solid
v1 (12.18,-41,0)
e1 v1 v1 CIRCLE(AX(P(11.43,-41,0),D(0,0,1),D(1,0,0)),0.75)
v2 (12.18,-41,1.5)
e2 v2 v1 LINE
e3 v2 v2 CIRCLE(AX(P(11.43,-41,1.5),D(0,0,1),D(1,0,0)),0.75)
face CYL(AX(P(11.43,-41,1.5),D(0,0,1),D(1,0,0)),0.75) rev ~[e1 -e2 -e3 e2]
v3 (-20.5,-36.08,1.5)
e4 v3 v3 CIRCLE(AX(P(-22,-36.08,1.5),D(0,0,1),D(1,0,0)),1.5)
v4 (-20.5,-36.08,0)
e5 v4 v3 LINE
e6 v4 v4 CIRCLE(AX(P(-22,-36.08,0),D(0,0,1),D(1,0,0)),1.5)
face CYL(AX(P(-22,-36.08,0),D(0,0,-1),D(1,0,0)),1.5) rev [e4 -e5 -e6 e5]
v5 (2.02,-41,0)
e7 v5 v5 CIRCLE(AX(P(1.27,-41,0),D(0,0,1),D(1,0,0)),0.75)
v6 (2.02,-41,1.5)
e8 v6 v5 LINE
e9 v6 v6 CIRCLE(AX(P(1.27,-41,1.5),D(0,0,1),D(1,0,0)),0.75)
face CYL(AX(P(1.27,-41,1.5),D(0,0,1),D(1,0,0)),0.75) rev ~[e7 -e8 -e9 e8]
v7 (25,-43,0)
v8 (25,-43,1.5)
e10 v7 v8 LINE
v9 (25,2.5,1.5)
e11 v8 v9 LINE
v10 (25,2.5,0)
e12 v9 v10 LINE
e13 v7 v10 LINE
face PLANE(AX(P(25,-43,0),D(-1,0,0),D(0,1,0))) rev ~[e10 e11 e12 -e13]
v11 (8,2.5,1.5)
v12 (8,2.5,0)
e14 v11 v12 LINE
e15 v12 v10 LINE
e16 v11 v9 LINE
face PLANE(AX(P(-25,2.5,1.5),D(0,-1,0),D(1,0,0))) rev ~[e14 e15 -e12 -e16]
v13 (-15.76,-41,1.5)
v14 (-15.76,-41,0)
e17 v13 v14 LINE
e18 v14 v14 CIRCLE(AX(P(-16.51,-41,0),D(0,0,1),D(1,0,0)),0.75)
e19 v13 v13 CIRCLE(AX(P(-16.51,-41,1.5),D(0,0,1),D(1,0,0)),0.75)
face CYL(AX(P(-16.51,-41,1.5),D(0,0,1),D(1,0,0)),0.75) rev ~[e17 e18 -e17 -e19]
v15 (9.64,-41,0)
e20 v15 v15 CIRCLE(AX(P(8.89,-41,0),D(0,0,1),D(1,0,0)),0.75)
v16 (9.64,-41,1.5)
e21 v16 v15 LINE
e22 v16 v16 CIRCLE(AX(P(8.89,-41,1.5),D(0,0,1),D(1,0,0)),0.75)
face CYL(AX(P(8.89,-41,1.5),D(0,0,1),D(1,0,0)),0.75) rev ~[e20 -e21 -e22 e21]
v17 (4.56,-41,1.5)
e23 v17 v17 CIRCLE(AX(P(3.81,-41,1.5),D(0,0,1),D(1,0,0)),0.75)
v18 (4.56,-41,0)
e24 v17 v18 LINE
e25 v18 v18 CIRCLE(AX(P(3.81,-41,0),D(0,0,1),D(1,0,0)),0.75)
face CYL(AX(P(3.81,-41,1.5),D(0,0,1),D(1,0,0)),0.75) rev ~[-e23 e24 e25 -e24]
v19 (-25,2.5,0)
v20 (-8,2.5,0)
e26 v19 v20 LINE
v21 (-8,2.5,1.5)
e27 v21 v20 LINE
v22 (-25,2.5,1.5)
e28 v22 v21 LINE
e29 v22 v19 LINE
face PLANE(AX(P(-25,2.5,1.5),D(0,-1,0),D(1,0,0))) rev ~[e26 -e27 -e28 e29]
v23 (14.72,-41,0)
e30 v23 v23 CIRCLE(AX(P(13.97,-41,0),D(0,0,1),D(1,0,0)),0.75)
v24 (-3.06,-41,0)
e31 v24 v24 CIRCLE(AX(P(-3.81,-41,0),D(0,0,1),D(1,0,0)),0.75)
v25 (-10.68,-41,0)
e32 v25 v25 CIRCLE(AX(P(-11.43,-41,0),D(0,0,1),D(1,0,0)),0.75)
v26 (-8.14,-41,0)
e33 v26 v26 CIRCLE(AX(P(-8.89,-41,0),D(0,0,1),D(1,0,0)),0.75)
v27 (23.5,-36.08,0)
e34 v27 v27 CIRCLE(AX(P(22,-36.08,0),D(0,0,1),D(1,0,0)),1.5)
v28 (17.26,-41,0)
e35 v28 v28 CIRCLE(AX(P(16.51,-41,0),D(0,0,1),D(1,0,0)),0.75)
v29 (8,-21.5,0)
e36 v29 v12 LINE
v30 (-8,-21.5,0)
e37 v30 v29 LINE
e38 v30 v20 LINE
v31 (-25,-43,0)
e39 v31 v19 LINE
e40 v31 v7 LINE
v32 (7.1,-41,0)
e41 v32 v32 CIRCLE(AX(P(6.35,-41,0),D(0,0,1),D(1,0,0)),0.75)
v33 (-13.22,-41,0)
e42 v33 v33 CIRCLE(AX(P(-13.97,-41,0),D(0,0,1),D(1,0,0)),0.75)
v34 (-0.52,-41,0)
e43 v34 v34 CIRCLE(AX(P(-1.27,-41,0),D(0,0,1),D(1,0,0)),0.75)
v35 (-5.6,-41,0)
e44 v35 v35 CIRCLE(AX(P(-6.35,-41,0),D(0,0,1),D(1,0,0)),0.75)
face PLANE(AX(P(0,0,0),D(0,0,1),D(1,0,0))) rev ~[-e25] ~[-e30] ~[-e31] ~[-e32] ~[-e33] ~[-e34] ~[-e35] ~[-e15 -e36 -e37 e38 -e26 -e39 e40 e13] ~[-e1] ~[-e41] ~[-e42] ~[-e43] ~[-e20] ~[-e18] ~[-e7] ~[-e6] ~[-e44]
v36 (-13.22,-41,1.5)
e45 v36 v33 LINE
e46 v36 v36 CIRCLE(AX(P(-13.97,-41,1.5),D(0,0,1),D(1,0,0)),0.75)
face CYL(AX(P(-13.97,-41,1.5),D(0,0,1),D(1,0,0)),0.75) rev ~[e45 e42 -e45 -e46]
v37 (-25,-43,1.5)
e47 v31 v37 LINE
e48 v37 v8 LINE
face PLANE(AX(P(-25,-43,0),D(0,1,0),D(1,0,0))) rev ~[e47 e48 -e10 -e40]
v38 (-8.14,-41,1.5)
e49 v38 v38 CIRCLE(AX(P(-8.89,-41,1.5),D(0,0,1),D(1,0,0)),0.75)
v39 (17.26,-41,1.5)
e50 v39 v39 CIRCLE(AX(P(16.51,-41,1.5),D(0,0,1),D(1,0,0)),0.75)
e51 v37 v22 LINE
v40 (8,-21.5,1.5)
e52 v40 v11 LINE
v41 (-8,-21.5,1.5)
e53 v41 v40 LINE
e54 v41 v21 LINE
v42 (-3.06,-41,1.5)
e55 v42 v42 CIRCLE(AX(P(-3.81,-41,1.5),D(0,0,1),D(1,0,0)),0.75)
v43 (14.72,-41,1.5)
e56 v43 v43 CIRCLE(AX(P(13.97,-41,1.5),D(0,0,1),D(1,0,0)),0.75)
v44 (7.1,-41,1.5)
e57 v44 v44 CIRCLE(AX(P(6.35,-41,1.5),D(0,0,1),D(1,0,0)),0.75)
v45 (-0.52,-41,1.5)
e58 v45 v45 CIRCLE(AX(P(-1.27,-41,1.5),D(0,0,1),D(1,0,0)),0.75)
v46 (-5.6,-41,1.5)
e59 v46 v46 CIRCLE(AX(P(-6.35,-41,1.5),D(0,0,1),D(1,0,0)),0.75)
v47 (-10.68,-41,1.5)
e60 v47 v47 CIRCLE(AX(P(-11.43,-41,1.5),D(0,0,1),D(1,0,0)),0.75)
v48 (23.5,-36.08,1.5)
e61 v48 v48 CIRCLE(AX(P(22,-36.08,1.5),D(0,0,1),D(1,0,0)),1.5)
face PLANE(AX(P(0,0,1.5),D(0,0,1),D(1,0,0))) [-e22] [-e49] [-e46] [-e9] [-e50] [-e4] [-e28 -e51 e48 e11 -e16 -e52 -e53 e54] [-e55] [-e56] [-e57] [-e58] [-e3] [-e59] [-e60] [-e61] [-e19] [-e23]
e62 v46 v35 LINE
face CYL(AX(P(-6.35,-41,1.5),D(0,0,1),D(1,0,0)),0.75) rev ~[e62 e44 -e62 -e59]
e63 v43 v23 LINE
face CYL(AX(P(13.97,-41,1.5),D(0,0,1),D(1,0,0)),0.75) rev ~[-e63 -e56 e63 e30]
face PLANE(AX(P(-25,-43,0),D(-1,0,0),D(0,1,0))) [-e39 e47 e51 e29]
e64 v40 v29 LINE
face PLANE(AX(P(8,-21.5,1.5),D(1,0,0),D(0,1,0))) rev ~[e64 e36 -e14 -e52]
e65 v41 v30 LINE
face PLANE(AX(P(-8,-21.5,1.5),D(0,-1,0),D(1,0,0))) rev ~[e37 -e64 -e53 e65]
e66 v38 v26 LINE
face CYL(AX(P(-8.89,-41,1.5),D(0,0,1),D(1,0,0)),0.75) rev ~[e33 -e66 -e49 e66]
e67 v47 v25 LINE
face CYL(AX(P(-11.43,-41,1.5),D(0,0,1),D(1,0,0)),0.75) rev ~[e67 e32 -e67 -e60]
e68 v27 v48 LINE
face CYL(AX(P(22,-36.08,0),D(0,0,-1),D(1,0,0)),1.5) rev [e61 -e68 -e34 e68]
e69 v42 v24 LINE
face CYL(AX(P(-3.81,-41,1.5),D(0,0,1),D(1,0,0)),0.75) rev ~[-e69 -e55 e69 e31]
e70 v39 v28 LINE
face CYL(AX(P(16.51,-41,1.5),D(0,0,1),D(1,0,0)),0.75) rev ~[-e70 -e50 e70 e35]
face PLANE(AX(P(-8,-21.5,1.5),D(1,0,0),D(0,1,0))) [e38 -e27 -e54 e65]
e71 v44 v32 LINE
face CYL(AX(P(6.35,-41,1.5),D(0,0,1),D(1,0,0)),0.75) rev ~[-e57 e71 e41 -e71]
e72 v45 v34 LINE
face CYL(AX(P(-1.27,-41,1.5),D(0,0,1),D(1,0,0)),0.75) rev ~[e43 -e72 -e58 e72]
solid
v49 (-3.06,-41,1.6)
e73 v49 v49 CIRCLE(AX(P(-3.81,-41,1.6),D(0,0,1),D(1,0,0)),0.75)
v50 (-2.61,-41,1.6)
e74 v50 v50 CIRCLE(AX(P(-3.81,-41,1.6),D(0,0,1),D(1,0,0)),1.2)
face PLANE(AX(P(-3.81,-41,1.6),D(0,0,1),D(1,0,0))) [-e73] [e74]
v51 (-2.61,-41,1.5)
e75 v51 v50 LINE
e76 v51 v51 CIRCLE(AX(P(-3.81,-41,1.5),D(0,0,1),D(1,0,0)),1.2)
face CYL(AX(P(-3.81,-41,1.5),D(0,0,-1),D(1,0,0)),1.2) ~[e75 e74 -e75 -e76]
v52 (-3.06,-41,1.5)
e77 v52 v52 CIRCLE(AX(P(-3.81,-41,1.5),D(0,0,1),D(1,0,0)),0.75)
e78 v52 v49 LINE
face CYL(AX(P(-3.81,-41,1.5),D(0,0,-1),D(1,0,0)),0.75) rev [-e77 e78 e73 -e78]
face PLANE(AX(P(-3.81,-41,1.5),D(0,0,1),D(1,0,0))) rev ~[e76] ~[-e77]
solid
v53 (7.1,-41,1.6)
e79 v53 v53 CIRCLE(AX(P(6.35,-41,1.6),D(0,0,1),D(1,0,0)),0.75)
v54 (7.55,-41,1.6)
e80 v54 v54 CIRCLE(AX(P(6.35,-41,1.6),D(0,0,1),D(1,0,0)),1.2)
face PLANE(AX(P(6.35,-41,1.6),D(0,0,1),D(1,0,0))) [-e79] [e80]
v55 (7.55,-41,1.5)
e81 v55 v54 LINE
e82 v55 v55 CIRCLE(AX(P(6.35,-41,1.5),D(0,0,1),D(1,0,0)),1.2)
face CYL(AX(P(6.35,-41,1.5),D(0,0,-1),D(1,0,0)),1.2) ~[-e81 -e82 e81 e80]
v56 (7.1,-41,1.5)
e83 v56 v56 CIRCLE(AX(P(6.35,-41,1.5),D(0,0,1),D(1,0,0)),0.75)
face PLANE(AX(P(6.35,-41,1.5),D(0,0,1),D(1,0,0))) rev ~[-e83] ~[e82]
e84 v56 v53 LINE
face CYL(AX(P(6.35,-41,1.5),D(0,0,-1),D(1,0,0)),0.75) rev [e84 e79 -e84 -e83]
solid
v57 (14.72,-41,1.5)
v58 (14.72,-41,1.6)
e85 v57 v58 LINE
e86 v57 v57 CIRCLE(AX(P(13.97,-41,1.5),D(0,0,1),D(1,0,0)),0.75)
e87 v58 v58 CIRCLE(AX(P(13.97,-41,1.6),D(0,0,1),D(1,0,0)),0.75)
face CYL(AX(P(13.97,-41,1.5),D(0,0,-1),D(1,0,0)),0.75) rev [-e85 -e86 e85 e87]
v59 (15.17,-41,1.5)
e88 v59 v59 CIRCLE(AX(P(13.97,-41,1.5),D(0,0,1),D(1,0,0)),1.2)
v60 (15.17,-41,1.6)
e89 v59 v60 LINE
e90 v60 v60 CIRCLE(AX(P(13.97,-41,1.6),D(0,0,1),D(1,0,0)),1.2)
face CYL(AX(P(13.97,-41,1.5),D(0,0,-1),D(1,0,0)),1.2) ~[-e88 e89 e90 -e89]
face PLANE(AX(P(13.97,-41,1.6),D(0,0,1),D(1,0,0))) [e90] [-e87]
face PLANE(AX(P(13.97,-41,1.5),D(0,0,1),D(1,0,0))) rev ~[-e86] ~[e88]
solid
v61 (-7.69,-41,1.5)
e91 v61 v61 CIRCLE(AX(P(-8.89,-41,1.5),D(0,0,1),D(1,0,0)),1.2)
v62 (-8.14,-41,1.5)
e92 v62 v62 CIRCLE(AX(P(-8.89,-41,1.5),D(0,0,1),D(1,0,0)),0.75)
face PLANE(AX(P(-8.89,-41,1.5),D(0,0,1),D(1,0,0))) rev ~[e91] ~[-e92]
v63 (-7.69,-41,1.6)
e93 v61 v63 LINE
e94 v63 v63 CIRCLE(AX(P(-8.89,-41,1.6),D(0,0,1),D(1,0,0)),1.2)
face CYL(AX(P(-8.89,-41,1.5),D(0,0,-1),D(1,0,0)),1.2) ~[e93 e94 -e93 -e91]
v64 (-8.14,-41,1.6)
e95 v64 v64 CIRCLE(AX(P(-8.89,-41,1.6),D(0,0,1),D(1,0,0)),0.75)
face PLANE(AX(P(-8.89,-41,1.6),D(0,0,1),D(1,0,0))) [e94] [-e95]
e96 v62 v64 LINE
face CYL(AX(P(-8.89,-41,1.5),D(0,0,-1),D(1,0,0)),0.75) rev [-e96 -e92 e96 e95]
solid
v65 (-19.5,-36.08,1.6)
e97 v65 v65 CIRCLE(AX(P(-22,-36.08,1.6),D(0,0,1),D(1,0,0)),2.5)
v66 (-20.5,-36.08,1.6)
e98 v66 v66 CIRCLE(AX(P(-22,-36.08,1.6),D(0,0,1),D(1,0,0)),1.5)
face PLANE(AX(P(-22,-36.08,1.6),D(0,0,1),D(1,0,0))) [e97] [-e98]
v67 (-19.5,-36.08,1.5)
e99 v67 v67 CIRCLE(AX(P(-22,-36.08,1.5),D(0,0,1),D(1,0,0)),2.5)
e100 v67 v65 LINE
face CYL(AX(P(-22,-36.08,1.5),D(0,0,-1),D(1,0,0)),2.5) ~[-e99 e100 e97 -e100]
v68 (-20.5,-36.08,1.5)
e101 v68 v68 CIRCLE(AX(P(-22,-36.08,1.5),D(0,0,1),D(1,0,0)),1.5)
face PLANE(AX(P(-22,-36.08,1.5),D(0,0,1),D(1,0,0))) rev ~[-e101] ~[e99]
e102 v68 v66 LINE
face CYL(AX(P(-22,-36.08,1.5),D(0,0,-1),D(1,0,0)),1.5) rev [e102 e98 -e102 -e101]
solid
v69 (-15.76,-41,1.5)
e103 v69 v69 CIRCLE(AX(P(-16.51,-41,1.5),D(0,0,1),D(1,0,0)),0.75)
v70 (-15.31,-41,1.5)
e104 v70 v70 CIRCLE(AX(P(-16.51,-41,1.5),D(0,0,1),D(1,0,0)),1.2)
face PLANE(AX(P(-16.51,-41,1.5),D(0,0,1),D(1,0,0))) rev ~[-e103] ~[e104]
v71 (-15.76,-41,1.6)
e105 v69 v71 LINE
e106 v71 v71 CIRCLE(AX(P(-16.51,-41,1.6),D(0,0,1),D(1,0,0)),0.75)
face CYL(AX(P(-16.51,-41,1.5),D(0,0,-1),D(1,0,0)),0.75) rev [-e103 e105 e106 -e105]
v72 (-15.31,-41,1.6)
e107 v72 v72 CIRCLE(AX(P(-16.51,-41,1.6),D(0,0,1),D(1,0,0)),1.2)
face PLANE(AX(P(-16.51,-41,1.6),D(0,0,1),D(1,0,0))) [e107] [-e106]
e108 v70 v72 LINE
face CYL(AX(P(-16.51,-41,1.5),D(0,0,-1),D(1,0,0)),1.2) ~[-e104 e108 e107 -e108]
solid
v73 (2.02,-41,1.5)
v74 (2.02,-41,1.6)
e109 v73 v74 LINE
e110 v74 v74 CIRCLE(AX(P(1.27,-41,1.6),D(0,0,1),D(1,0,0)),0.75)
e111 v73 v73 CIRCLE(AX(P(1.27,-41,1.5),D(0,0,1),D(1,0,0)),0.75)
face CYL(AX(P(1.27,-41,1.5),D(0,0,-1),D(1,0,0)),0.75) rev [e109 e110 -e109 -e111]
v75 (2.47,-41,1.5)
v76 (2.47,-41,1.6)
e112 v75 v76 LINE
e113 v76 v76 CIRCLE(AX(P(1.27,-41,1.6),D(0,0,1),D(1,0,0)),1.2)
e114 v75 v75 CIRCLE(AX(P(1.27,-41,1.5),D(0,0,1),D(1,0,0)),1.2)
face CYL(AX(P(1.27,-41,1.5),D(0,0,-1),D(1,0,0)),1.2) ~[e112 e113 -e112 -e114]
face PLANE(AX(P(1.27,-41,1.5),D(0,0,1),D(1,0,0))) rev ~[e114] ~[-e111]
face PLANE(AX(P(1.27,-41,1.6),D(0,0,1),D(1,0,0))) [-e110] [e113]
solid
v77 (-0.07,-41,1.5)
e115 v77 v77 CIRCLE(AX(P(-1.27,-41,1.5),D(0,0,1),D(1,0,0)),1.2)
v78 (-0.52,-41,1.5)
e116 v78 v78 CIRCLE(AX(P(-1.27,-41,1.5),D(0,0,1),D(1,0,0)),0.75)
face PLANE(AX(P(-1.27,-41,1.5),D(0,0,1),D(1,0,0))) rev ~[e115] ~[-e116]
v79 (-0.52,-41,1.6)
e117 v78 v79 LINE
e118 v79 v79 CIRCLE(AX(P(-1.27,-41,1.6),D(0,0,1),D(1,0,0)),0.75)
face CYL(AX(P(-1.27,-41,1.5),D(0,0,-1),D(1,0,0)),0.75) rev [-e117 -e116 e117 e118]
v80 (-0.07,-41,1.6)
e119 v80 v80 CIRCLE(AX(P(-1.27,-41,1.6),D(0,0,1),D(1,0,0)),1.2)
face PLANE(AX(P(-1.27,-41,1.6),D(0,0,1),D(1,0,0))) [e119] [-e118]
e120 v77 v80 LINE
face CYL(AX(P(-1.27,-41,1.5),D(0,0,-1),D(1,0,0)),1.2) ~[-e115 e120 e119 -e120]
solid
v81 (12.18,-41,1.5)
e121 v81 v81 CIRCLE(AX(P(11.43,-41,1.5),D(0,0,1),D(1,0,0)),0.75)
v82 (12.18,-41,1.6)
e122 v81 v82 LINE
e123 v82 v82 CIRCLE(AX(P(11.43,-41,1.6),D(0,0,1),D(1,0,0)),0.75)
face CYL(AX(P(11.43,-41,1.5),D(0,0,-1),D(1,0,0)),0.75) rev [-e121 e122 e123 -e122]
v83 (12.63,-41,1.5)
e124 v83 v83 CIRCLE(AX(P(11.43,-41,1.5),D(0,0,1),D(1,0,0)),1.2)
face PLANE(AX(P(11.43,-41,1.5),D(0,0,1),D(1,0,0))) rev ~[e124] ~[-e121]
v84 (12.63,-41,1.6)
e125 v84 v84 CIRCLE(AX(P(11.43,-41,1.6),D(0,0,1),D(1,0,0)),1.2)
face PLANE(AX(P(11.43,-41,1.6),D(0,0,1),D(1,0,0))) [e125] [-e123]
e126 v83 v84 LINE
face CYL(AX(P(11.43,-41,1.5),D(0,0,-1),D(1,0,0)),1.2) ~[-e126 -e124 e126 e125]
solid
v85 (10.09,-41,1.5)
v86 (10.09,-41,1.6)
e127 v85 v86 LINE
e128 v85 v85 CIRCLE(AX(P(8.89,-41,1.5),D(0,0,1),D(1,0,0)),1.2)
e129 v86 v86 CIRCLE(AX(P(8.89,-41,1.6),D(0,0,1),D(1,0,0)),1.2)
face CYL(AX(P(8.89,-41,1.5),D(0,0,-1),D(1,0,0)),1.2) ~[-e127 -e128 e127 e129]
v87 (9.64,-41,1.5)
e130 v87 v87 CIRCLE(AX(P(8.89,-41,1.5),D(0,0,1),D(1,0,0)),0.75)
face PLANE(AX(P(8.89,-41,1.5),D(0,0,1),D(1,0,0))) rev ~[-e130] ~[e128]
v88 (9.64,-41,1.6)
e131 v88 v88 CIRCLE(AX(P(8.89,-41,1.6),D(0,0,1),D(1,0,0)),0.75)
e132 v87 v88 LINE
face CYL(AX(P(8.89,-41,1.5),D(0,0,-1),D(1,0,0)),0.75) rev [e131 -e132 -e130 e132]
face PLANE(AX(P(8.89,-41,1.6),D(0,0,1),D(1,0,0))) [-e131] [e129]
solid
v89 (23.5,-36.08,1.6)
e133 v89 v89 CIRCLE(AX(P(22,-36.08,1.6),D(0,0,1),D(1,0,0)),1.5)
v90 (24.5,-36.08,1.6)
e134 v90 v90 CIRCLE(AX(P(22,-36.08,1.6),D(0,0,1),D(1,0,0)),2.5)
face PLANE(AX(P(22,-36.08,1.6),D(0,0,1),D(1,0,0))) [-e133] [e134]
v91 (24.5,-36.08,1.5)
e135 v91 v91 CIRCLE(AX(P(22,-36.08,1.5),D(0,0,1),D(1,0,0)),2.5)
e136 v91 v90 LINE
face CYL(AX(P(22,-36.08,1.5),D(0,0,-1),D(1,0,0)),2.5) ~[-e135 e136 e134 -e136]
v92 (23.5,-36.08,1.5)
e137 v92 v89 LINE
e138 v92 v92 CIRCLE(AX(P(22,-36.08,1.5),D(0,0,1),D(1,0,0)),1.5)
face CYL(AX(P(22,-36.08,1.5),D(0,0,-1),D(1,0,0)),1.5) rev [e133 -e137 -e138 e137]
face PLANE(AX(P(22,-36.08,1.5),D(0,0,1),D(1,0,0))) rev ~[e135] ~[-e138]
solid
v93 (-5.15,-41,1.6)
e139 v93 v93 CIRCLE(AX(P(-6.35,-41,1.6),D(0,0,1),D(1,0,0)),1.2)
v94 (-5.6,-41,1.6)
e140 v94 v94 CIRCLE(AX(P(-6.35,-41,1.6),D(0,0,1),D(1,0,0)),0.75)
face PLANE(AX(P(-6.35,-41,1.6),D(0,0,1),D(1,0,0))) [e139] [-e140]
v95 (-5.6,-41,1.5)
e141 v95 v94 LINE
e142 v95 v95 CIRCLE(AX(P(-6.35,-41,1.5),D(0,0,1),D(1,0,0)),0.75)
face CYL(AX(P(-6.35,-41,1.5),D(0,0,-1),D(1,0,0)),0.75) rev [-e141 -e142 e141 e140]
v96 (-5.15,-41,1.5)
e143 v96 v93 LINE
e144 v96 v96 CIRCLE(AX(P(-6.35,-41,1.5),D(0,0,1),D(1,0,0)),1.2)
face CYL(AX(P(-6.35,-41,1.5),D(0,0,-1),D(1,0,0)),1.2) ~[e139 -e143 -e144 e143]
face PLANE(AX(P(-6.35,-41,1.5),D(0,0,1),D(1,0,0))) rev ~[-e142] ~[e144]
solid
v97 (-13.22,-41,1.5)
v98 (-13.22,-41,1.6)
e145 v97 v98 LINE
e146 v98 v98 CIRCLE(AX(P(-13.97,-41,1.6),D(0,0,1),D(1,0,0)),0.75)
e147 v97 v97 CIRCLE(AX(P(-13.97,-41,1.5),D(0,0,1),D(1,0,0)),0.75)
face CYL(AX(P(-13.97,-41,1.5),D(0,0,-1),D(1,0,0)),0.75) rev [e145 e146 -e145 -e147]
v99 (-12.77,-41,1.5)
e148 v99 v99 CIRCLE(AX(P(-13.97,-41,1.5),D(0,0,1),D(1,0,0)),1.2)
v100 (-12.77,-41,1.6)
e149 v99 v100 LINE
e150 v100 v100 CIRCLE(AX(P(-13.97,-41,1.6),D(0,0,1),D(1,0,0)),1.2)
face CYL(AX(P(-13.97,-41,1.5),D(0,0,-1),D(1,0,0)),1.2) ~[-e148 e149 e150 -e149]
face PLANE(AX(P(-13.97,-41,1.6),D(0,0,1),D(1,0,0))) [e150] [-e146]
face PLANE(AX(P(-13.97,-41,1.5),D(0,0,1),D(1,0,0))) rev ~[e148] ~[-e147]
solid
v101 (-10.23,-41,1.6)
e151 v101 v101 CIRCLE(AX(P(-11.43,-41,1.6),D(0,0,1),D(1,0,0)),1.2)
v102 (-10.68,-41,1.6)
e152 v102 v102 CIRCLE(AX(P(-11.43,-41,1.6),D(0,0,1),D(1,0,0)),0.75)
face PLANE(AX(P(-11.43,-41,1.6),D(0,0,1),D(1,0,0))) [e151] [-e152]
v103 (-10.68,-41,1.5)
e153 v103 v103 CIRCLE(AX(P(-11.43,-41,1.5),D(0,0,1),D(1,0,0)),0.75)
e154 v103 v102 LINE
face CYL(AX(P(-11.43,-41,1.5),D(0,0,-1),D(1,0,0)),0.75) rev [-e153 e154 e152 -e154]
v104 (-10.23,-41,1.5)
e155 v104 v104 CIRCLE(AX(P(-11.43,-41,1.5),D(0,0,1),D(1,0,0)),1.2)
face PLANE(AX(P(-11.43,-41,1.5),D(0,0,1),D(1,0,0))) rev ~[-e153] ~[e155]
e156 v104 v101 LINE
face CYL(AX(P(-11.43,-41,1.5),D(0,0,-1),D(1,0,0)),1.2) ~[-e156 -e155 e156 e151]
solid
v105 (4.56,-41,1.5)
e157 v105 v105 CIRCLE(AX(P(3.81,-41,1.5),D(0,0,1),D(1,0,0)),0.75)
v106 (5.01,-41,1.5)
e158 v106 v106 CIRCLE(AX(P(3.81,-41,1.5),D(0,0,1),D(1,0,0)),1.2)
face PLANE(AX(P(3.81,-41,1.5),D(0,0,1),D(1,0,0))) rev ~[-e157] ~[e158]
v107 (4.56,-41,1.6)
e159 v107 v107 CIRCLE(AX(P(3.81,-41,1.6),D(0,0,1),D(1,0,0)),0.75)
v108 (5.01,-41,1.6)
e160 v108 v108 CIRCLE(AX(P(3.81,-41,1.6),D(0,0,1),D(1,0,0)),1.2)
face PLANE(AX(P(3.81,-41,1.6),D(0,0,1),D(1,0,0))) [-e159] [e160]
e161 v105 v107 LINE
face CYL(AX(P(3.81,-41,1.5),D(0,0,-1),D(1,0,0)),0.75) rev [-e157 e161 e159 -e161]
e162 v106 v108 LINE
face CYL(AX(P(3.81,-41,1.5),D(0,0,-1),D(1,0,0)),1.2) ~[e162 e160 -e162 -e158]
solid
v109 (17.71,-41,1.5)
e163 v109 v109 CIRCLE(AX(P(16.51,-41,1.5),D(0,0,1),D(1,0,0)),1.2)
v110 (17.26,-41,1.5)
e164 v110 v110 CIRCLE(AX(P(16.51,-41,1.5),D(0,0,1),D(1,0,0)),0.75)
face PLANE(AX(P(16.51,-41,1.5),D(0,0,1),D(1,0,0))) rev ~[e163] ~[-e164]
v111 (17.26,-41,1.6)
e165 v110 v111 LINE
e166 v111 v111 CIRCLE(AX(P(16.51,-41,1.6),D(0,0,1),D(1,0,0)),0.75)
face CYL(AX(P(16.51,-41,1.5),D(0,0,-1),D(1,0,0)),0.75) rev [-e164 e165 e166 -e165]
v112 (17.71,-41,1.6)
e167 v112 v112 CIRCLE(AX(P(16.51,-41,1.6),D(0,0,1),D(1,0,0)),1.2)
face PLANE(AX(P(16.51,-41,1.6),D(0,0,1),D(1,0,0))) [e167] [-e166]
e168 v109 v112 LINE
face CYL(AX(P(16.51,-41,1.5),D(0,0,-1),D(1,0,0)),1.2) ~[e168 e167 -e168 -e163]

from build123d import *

# Parameters (mm, degrees)
F0_W      = 50
F0_H      = 86
F0_R      = 1.5
F1_DEPTH  = 1.5
F2_R      = 0.75
F3_DEPTH  = 1.501
F4_W      = 46
F4_H      = 34
F5_DEPTH  = 1.501
F6_W      = 50
F6_H      = 40.5
F7_DEPTH  = 25
F8_R      = 2.5
F8_R_2    = 1.5
F9_DEPTH  = 0.1
F10_R     = 1.2
F10_R_2   = 0.75
F11_DEPTH = 0.1
F12_W     = 16
F12_H     = 24
F13_DEPTH = 25


with BuildPart() as f1:
    # F0 (on Top) → F1 (new body)
    with BuildSketch(Plane.XY):
        Rectangle(F0_W, F0_H)
        with Locations((-22, -36.08)):
            Circle(F0_R, mode=Mode.SUBTRACT)
        with Locations((22, -36.08)):
            Circle(F0_R, mode=Mode.SUBTRACT)
        with Locations((-22, 40)):
            Circle(F0_R, mode=Mode.SUBTRACT)
        with Locations((22, 40)):
            Circle(F0_R, mode=Mode.SUBTRACT)
    extrude(amount=F1_DEPTH)

    # F2 (on face) → F3 (cut, through all)
    with BuildSketch(Plane.XY.offset(1.5)):
        with Locations((-16.51, -41)):
            Circle(F2_R)
        with Locations((-13.97, -41)):
            Circle(F2_R)
        with Locations((-11.43, -41)):
            Circle(F2_R)
        with Locations((-8.89, -41)):
            Circle(F2_R)
        with Locations((-6.35, -41)):
            Circle(F2_R)
        with Locations((-3.81, -41)):
            Circle(F2_R)
        with Locations((-1.27, -41)):
            Circle(F2_R)
        with Locations((1.27, -41)):
            Circle(F2_R)
        with Locations((3.81, -41)):
            Circle(F2_R)
        with Locations((6.35, -41)):
            Circle(F2_R)
        with Locations((8.89, -41)):
            Circle(F2_R)
        with Locations((11.43, -41)):
            Circle(F2_R)
        with Locations((13.97, -41)):
            Circle(F2_R)
        with Locations((16.51, -41)):
            Circle(F2_R)
        with Locations((-3.81, 40)):
            Circle(F2_R)
        with Locations((-1.27, 40)):
            Circle(F2_R)
        with Locations((1.27, 40)):
            Circle(F2_R)
        with Locations((3.81, 40)):
            Circle(F2_R)
    extrude(amount=-F3_DEPTH, mode=Mode.SUBTRACT)

    # F4 (on face) → F5 (cut, through all)
    with BuildSketch(Plane.XY.offset(1.5)):
        with Locations((0, 19.5)):
            Rectangle(F4_W, F4_H)
    extrude(amount=-F5_DEPTH, mode=Mode.SUBTRACT)

    # F6 (on face) → F7 (cut)
    with BuildSketch(Plane.XY.offset(1.5)):
        with Locations((0, 22.75)):
            Rectangle(F6_W, F6_H)
    extrude(amount=-F7_DEPTH, mode=Mode.SUBTRACT)

    # F12 (on face) → F13 (cut)
    with BuildSketch(Plane.XY.offset(1.5)):
        with Locations((0, -9.5)):
            Rectangle(F12_W, F12_H)
    extrude(amount=-F13_DEPTH, mode=Mode.SUBTRACT)


with BuildPart() as f9:
    # F8 (on face) → F9 (new body)
    with BuildSketch(Plane.XY.offset(1.5)):
        with Locations((-22, -36.08)):
            Circle(F8_R)
        with Locations((-22, -36.08)):
            Circle(F8_R_2, mode=Mode.SUBTRACT)
        with Locations((22, -36.08)):
            Circle(F8_R)
        with Locations((22, -36.08)):
            Circle(F8_R_2, mode=Mode.SUBTRACT)
    extrude(amount=F9_DEPTH)


with BuildPart() as f11:
    # F10 (on face) → F11 (new body)
    with BuildSketch(Plane.XY.offset(1.5)):
        with Locations((-16.51, -41)):
            Circle(F10_R)
        with Locations((-16.51, -41)):
            Circle(F10_R_2, mode=Mode.SUBTRACT)
        with Locations((-13.97, -41)):
            Circle(F10_R)
        with Locations((-13.97, -41)):
            Circle(F10_R_2, mode=Mode.SUBTRACT)
        with Locations((-11.43, -41)):
            Circle(F10_R)
        with Locations((-11.43, -41)):
            Circle(F10_R_2, mode=Mode.SUBTRACT)
        with Locations((-8.89, -41)):
            Circle(F10_R)
        with Locations((-8.89, -41)):
            Circle(F10_R_2, mode=Mode.SUBTRACT)
        with Locations((-6.35, -41)):
            Circle(F10_R)
        with Locations((-6.35, -41)):
            Circle(F10_R_2, mode=Mode.SUBTRACT)
        with Locations((-3.81, -41)):
            Circle(F10_R)
        with Locations((-3.81, -41)):
            Circle(F10_R_2, mode=Mode.SUBTRACT)
        with Locations((-1.27, -41)):
            Circle(F10_R)
        with Locations((-1.27, -41)):
            Circle(F10_R_2, mode=Mode.SUBTRACT)
        with Locations((1.27, -41)):
            Circle(F10_R)
        with Locations((1.27, -41)):
            Circle(F10_R_2, mode=Mode.SUBTRACT)
        with Locations((3.81, -41)):
            Circle(F10_R)
        with Locations((3.81, -41)):
            Circle(F10_R_2, mode=Mode.SUBTRACT)
        with Locations((6.35, -41)):
            Circle(F10_R)
        with Locations((6.35, -41)):
            Circle(F10_R_2, mode=Mode.SUBTRACT)
        with Locations((8.89, -41)):
            Circle(F10_R)
        with Locations((8.89, -41)):
            Circle(F10_R_2, mode=Mode.SUBTRACT)
        with Locations((11.43, -41)):
            Circle(F10_R)
        with Locations((11.43, -41)):
            Circle(F10_R_2, mode=Mode.SUBTRACT)
        with Locations((13.97, -41)):
            Circle(F10_R)
        with Locations((13.97, -41)):
            Circle(F10_R_2, mode=Mode.SUBTRACT)
        with Locations((16.51, -41)):
            Circle(F10_R)
        with Locations((16.51, -41)):
            Circle(F10_R_2, mode=Mode.SUBTRACT)
    extrude(amount=F11_DEPTH)


solid = Compound([f1.part, f9.part, f11.part])
